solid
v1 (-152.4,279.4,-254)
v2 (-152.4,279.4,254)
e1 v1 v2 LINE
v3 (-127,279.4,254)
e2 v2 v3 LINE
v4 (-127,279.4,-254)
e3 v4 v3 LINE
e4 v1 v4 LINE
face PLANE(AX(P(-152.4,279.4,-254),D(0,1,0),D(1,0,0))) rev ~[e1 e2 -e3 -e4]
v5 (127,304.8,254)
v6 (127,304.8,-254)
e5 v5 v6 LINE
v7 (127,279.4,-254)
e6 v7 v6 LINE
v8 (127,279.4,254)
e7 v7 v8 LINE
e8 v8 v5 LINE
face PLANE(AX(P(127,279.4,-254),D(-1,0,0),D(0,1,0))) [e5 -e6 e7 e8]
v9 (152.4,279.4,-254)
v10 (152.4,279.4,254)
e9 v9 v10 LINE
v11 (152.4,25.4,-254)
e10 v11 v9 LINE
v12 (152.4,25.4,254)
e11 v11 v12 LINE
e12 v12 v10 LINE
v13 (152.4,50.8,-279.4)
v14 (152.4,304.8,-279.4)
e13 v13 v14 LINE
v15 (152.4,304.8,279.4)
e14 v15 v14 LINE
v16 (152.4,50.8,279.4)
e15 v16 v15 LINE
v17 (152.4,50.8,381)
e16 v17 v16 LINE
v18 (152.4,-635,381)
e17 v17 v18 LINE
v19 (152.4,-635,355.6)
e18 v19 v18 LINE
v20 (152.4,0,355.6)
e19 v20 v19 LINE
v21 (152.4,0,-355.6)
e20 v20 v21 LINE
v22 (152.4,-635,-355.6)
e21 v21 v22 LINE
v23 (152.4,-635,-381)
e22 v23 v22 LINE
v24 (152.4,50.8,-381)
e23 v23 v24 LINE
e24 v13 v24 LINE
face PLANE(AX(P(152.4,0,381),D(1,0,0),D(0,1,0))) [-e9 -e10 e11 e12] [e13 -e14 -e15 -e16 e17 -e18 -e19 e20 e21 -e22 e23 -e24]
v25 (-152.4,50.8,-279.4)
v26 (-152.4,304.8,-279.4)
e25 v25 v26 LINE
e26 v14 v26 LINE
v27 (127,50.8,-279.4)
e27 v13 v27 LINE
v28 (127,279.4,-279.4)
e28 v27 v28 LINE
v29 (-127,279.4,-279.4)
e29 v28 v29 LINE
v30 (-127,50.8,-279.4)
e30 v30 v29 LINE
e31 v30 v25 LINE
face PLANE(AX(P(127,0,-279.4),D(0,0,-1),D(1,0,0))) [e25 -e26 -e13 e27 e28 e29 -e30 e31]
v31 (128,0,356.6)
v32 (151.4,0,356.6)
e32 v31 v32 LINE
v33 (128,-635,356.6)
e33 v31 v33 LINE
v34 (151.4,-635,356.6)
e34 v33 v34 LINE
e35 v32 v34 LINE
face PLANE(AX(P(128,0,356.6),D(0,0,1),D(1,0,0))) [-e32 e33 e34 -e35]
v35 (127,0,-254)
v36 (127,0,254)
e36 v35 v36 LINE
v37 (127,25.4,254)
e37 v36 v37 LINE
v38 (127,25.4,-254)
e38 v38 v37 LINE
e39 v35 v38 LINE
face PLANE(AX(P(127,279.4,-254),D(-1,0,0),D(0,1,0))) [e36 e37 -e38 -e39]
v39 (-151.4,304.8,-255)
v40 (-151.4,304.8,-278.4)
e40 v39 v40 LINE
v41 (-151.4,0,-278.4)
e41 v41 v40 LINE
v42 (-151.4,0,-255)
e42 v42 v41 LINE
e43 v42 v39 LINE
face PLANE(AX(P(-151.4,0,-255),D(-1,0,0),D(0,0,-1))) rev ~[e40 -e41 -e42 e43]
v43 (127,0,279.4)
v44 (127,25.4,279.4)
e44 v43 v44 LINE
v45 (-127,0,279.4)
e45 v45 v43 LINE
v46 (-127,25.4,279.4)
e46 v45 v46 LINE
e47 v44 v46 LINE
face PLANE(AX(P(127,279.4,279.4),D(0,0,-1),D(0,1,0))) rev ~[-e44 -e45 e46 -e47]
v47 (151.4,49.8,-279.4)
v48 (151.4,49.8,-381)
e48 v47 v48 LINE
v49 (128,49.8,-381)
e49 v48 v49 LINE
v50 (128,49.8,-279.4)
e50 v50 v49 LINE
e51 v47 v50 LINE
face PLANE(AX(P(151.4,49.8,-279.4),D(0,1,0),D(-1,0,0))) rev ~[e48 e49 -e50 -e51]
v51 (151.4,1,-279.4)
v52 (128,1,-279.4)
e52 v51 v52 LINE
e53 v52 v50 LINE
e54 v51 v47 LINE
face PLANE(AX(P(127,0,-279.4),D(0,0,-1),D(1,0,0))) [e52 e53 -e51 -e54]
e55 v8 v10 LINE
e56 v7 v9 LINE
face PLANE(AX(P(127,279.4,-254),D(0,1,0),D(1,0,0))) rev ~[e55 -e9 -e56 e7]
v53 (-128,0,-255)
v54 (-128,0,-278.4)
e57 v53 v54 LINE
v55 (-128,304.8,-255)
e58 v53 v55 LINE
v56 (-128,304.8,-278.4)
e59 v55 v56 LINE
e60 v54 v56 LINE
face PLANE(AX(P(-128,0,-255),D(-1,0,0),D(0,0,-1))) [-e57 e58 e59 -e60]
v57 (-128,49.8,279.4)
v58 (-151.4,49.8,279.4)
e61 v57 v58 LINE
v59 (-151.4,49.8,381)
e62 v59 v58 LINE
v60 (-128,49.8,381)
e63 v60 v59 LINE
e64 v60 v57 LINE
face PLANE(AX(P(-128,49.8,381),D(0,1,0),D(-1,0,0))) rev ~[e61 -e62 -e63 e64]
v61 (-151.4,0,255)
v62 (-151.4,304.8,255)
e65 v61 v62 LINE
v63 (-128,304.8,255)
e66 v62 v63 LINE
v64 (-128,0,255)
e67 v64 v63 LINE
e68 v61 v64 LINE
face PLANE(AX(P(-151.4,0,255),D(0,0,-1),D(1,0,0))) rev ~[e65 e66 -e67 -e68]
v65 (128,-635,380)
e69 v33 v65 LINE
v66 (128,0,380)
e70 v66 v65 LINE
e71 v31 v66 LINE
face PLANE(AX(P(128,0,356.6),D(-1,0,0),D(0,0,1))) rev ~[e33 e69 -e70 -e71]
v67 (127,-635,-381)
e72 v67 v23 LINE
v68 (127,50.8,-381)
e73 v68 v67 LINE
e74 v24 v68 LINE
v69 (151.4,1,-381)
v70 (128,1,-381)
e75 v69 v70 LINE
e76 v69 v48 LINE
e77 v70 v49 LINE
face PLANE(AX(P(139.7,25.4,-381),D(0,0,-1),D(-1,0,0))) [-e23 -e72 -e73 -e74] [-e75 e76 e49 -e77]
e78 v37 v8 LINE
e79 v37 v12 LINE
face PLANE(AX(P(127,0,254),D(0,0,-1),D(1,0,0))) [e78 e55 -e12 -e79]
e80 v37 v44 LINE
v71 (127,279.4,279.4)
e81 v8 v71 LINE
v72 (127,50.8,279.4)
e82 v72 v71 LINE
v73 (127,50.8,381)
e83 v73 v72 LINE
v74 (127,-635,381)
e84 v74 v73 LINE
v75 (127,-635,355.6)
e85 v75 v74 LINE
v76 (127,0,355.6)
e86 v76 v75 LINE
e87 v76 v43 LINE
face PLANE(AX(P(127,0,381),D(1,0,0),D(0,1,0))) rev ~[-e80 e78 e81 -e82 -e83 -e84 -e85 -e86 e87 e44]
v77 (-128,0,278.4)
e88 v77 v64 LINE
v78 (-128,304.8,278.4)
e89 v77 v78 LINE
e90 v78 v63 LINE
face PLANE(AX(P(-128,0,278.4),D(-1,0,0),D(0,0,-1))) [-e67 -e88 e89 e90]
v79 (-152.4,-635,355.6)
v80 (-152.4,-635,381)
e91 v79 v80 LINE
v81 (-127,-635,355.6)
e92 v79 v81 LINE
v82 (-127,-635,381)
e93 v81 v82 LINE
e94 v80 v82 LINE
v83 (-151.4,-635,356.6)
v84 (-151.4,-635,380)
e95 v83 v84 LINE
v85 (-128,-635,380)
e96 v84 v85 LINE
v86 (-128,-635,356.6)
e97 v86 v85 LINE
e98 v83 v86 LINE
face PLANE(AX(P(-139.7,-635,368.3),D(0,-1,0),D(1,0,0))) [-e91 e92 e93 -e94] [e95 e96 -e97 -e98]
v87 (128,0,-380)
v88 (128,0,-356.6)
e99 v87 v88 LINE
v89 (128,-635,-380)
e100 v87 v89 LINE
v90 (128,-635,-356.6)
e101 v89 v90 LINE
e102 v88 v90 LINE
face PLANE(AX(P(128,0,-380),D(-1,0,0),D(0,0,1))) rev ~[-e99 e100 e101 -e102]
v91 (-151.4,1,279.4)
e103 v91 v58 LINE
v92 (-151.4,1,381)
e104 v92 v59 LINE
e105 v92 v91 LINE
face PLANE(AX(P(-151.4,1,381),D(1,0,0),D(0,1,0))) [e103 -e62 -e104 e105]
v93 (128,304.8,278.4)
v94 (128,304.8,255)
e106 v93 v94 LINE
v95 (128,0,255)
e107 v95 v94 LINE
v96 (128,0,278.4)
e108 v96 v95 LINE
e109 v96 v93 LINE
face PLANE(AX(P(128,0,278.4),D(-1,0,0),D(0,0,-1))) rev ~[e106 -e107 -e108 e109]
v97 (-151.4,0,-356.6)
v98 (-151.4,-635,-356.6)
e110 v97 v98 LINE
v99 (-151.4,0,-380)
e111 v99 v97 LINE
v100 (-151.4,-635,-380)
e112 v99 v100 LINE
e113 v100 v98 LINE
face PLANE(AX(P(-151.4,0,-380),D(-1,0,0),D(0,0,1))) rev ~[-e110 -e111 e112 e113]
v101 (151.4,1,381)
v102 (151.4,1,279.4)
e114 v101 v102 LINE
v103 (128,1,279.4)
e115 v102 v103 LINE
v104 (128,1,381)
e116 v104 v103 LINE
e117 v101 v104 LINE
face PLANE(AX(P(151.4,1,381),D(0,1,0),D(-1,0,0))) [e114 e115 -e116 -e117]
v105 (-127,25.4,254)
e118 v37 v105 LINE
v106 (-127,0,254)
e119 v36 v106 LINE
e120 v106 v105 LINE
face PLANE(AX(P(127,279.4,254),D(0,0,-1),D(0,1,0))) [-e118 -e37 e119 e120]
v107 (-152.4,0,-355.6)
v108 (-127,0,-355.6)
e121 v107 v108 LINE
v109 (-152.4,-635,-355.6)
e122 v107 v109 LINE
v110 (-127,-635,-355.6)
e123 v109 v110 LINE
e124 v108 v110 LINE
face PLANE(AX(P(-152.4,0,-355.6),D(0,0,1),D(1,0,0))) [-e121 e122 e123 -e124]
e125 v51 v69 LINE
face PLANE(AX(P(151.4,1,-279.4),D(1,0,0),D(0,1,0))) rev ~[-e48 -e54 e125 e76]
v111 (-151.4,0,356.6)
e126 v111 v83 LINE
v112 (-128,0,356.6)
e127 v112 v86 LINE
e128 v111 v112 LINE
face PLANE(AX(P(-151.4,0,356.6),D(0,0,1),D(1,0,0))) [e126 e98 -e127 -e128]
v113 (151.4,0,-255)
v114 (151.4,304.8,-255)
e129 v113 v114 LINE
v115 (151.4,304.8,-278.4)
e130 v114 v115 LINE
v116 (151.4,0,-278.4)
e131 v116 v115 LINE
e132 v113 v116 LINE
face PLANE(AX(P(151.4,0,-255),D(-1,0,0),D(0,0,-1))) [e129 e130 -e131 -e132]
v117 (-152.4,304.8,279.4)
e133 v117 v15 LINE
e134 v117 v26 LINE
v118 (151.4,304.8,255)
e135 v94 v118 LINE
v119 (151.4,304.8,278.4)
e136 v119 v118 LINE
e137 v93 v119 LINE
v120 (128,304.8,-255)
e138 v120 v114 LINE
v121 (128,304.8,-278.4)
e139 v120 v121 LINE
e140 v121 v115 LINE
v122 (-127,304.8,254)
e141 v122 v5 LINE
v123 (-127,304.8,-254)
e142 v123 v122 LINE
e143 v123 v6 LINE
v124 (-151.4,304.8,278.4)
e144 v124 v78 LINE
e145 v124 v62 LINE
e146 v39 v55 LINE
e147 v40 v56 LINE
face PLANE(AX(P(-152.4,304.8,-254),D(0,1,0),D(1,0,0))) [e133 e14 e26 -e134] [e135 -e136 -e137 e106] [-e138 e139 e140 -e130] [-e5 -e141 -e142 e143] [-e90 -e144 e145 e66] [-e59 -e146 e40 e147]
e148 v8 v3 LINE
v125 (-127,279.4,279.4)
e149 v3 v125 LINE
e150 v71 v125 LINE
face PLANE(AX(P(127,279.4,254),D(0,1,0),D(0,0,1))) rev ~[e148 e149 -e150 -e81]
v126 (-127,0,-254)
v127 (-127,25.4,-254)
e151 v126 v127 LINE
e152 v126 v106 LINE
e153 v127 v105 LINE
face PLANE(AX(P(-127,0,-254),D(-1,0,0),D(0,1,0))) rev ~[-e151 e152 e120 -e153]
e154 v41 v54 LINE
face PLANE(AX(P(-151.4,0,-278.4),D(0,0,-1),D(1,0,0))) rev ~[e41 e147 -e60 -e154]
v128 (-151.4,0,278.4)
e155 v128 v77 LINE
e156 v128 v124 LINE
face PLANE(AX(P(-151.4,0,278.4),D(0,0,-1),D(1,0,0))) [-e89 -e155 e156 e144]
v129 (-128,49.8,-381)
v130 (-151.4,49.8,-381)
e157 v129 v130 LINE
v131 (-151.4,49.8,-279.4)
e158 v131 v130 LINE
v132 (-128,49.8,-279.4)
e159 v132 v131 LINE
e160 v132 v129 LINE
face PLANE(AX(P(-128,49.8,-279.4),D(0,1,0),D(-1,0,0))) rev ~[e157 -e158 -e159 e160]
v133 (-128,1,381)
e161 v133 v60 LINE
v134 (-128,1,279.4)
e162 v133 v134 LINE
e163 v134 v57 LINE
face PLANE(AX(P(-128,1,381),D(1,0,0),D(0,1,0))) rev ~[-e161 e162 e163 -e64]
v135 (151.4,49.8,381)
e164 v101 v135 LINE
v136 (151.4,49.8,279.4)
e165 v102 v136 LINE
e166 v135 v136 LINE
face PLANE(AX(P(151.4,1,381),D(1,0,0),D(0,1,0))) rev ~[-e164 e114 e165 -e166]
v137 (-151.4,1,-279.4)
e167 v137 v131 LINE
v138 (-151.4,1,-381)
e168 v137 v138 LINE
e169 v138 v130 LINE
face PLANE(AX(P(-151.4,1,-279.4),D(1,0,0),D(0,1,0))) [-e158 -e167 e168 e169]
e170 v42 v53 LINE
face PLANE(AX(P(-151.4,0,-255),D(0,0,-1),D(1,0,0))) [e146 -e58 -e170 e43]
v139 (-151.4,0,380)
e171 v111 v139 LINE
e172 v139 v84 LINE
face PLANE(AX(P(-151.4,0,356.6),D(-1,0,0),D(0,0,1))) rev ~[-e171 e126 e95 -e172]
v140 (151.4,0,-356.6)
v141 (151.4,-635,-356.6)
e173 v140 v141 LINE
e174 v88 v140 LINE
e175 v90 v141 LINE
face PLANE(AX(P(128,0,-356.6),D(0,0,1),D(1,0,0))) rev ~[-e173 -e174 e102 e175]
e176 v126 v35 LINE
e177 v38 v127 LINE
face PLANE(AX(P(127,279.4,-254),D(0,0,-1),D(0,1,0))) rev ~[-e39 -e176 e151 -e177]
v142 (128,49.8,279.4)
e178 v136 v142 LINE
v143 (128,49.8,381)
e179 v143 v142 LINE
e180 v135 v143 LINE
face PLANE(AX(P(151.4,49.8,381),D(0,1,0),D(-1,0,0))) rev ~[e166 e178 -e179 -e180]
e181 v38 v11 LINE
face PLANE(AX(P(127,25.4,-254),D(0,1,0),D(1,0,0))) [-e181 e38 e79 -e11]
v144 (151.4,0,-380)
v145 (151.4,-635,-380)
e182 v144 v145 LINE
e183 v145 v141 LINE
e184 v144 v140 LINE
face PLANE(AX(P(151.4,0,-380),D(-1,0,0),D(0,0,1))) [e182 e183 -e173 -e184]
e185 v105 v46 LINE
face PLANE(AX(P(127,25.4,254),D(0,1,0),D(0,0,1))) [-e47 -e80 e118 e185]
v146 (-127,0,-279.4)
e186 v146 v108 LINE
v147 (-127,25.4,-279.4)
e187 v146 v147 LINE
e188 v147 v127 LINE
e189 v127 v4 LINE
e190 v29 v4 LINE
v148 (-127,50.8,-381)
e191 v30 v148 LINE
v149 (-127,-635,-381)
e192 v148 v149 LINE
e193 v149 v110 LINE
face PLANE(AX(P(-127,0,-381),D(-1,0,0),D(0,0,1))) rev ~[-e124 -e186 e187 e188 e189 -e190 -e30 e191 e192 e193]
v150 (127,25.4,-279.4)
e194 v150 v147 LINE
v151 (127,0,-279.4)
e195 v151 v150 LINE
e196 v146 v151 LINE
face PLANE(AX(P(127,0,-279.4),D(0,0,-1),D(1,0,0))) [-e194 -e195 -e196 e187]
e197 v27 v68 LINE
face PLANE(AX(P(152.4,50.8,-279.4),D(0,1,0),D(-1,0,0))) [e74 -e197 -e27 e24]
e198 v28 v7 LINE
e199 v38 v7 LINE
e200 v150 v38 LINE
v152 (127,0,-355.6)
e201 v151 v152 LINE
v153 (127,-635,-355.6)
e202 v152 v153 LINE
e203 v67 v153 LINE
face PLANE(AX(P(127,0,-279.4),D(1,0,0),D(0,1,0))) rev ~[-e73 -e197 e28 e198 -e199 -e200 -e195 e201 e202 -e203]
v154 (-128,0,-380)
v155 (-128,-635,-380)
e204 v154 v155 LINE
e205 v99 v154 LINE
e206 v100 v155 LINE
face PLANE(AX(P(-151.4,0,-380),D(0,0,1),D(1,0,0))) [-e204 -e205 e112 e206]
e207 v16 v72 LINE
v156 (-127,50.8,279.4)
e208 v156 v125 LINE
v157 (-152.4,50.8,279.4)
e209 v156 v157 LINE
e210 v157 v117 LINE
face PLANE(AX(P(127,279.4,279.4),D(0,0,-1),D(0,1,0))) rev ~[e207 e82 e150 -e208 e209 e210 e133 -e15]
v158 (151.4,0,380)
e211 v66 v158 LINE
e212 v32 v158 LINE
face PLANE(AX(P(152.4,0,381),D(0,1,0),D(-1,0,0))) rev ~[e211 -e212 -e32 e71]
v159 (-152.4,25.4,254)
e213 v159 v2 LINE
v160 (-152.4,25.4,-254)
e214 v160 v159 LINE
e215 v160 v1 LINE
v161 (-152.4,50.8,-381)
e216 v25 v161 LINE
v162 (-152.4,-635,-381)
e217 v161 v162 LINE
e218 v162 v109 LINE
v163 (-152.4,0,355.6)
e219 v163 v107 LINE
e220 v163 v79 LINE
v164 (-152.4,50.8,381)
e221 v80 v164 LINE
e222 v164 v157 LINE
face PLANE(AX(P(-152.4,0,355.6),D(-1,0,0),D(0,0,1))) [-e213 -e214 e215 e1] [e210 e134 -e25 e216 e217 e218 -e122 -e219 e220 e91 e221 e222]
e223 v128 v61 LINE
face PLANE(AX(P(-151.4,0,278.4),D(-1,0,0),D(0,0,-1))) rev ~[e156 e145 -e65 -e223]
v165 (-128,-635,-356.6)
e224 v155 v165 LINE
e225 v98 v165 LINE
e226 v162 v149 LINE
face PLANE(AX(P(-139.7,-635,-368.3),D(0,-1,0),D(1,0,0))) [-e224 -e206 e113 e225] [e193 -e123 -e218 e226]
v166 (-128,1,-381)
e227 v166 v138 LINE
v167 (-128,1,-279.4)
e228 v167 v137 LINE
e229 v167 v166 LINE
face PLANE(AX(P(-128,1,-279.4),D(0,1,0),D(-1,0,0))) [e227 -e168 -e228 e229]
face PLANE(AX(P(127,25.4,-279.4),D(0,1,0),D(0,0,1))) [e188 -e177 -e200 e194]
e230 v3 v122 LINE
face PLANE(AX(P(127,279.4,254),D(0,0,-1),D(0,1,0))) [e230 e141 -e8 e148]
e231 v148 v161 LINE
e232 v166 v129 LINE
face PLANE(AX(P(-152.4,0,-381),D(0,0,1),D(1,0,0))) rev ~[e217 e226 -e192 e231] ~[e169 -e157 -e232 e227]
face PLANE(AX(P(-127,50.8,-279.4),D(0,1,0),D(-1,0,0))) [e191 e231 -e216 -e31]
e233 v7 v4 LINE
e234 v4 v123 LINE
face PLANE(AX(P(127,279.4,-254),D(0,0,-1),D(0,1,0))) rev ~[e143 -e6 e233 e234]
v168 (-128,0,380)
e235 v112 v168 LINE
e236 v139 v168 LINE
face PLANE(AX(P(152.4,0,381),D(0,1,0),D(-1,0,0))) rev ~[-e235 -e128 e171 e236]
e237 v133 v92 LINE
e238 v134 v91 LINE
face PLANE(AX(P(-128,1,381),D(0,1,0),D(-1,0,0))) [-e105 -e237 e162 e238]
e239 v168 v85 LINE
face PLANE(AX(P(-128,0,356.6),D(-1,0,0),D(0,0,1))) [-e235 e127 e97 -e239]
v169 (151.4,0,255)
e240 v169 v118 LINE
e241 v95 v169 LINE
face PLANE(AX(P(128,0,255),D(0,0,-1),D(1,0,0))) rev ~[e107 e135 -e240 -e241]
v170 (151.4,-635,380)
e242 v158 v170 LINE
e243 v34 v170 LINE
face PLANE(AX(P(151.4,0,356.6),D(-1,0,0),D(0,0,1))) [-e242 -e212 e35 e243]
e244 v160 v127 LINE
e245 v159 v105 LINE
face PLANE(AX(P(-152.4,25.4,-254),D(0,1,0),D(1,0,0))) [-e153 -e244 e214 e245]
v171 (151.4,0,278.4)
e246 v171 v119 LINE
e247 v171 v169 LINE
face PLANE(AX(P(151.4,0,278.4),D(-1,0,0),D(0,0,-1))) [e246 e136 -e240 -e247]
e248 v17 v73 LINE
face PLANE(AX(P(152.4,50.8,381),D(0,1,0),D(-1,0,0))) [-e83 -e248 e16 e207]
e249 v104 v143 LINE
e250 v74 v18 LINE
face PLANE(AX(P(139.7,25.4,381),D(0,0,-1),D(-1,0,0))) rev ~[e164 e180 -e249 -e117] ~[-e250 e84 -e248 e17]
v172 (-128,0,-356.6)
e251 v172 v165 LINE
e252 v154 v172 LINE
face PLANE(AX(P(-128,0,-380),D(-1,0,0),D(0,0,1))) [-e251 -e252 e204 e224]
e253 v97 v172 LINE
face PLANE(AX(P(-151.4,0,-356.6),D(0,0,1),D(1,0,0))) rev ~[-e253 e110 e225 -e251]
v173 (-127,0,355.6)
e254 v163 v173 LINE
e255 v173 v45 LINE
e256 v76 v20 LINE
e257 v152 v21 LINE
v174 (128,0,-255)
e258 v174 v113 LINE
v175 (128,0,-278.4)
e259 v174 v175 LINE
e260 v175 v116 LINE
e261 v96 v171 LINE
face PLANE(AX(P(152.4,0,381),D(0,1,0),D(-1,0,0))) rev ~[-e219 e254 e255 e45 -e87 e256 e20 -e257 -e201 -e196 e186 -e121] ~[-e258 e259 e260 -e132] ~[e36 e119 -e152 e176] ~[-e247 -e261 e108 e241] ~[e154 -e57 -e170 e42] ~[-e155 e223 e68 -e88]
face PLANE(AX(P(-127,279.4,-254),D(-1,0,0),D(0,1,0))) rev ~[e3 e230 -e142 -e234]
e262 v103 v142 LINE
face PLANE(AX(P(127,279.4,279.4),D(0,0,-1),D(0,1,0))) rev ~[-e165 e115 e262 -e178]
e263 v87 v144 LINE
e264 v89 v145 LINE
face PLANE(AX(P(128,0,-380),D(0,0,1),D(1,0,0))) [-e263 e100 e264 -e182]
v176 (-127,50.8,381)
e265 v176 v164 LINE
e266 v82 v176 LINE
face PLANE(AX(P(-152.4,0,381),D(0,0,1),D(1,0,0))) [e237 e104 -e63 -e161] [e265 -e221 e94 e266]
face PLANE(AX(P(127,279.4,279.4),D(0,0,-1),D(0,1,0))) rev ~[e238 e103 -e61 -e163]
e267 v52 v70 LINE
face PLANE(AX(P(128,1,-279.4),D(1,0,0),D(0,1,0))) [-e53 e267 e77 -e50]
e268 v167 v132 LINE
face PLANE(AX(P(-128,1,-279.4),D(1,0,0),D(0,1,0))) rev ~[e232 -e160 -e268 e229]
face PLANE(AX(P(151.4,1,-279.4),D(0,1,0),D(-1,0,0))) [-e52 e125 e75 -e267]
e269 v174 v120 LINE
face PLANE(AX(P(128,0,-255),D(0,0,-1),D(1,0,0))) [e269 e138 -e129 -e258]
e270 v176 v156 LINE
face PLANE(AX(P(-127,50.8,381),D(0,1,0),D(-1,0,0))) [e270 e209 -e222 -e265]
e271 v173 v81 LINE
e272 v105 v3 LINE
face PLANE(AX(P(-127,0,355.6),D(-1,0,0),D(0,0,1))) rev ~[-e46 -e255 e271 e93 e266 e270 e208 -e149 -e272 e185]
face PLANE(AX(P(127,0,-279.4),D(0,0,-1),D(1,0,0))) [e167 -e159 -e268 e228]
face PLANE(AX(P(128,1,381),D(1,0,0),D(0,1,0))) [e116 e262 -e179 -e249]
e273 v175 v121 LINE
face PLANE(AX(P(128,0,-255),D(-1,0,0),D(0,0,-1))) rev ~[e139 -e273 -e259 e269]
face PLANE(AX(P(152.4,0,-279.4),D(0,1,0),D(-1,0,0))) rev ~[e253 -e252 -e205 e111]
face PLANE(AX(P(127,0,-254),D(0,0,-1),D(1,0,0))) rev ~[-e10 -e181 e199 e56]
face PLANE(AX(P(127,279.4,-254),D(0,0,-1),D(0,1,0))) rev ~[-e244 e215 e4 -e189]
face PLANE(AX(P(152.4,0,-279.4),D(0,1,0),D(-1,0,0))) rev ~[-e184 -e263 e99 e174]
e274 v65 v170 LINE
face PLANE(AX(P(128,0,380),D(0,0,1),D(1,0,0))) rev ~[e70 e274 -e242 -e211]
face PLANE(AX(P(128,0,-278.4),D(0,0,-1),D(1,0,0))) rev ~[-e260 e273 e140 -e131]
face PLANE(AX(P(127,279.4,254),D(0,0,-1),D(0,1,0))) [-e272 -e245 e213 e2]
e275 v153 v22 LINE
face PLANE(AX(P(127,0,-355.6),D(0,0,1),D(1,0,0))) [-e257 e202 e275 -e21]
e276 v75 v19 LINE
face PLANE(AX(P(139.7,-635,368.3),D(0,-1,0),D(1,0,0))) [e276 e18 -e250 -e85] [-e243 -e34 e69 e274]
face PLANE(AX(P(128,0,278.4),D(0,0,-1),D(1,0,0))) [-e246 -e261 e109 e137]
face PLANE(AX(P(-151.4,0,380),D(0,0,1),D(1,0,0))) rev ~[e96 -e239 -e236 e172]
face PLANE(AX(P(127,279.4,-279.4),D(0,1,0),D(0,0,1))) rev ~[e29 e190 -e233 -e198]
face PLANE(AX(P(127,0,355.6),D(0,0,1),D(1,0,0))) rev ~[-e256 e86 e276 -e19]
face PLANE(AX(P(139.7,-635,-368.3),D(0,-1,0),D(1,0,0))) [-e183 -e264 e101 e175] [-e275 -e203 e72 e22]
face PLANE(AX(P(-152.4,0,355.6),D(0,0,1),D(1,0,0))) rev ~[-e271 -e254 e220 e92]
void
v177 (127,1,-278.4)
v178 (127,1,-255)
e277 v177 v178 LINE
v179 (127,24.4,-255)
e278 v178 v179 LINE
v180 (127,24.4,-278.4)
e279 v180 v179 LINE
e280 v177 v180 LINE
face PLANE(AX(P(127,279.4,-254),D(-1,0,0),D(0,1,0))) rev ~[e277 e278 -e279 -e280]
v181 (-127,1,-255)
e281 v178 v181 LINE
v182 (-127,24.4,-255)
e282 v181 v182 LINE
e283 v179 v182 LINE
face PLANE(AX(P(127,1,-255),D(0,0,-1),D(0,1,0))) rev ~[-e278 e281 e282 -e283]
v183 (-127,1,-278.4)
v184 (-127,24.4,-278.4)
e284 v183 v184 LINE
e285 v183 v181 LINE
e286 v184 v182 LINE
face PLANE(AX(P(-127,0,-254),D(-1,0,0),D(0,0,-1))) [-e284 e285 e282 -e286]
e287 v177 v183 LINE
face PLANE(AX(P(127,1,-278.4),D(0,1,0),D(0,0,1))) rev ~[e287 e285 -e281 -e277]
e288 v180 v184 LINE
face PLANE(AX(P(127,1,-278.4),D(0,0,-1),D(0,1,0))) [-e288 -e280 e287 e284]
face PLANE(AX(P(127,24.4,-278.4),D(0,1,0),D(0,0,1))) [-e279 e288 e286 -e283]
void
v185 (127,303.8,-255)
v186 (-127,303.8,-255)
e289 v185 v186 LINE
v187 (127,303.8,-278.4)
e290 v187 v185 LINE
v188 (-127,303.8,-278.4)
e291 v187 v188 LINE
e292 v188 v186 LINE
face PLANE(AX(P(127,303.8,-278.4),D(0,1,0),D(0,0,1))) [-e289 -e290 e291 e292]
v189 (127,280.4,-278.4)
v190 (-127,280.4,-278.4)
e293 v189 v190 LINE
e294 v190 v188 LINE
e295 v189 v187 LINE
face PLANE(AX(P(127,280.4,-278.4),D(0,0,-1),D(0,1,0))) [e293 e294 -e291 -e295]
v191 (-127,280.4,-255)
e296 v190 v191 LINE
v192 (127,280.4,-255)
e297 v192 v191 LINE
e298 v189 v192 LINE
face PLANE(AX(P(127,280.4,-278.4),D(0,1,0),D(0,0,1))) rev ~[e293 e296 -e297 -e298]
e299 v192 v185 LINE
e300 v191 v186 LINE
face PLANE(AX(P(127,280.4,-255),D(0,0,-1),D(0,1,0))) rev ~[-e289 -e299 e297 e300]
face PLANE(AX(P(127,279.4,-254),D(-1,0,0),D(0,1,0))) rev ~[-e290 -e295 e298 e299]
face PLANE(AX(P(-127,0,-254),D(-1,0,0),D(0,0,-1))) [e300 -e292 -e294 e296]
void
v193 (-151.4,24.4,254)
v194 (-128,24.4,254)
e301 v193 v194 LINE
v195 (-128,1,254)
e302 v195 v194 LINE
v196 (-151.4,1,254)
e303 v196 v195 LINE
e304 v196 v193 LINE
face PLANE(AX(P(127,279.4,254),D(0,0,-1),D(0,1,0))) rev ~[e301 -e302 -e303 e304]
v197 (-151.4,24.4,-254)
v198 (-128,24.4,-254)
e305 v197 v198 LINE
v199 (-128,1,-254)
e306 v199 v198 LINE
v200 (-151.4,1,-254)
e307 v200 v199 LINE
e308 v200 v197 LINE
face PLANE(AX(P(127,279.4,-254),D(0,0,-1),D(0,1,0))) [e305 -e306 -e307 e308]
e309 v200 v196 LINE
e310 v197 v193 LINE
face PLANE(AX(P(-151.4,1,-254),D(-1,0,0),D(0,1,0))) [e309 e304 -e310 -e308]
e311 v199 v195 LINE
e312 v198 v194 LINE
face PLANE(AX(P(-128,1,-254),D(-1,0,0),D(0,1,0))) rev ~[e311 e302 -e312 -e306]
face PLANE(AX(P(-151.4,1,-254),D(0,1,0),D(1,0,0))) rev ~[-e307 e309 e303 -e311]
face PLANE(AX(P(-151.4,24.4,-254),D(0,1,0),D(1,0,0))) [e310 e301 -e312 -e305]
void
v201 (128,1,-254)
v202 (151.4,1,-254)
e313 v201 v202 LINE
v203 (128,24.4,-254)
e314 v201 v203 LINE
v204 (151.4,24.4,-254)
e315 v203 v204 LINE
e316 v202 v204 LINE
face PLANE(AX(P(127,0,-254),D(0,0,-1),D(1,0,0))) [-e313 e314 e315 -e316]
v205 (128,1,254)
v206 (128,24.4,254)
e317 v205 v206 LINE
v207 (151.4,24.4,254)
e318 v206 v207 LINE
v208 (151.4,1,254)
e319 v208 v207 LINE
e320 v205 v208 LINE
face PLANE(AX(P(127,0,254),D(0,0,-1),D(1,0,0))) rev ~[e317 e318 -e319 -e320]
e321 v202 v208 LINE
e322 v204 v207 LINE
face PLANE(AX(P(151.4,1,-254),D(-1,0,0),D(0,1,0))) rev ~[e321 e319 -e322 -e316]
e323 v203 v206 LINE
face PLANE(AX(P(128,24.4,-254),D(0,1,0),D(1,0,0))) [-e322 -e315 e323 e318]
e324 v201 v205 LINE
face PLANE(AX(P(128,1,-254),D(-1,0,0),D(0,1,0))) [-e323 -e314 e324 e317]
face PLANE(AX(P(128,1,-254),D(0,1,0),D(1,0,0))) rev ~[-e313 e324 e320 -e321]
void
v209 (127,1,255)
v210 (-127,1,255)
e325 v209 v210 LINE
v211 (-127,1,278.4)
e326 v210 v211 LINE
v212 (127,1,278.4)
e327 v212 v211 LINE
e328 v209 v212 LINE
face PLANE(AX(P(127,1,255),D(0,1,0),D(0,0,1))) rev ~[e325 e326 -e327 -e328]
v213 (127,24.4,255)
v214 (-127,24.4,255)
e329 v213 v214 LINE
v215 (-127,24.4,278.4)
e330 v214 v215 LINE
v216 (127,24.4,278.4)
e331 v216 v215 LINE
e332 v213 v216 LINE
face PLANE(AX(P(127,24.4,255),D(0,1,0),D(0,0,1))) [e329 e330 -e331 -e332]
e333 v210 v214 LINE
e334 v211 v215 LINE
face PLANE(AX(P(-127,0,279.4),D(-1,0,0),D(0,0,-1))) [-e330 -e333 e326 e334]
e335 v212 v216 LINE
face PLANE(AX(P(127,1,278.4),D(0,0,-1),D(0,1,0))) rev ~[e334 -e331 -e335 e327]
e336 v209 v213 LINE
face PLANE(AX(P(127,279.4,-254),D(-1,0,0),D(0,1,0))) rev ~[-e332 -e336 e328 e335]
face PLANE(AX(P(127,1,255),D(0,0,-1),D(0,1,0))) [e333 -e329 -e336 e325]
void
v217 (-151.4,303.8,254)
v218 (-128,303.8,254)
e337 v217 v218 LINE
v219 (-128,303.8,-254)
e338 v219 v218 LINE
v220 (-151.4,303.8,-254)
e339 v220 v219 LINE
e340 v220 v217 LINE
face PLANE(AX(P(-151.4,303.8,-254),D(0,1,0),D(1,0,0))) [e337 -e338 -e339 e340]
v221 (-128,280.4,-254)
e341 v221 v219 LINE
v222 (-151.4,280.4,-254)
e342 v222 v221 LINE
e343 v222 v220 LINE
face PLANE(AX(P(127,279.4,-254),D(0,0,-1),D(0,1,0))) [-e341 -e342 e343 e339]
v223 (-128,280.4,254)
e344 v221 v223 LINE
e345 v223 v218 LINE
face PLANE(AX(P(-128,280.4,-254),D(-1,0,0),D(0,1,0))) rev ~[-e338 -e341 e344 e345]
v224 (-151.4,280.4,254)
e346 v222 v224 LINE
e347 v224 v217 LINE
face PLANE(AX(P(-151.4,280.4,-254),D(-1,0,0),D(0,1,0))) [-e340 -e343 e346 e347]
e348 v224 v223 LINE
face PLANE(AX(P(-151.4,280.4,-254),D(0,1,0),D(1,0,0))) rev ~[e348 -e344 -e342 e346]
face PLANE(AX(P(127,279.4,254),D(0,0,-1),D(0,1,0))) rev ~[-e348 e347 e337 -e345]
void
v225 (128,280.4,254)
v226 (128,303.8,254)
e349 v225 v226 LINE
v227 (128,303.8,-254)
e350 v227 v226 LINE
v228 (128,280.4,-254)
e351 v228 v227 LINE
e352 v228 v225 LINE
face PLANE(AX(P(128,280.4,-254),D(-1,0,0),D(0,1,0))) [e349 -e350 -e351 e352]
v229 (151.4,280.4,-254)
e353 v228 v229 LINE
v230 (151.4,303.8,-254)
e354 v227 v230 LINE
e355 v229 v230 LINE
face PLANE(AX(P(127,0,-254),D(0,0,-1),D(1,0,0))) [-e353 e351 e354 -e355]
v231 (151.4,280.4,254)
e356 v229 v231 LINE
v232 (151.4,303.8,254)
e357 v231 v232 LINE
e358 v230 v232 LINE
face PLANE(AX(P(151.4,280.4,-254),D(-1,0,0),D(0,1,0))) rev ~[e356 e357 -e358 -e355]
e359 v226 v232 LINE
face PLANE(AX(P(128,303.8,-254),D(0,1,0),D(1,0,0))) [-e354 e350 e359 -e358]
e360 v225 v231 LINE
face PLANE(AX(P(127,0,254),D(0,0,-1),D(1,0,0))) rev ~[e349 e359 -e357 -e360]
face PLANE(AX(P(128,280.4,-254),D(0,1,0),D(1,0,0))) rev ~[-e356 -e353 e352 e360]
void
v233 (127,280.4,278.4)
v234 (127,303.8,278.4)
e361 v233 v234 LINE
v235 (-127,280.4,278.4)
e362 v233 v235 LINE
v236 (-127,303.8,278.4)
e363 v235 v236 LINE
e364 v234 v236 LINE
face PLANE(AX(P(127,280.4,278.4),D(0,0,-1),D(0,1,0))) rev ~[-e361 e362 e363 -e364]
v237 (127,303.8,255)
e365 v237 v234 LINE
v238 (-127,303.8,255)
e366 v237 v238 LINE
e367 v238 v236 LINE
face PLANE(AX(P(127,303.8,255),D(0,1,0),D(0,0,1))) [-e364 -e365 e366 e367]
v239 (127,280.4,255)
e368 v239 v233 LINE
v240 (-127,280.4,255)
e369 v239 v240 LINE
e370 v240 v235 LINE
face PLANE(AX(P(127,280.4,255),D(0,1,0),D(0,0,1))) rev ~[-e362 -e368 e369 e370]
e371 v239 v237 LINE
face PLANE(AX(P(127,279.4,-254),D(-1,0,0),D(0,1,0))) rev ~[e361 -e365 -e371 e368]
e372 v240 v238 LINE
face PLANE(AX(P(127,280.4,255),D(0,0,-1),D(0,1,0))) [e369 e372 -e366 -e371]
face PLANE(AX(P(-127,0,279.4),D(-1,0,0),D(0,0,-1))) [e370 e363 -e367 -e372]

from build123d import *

# Parameters (mm, degrees)
SKETCH1_W             = 25.4
SKETCH1_H             = 25.4
SKETCH1_W_2           = 23.4
SKETCH1_H_2           = 23.4
BOSS_EXTRUDE1_DEPTH   = 304.8
BOSS_EXTRUDE1_2_DEPTH = 304.8
BOSS_EXTRUDE1_3_DEPTH = 304.8
BOSS_EXTRUDE1_4_DEPTH = 304.8
SKETCH2_W             = 25.4
SKETCH2_H             = 25.4
SKETCH2_W_2           = 23.4
SKETCH2_H_2           = 23.4
BOSS_EXTRUDE2_DEPTH   = 508
SKETCH3_W             = 25.4
SKETCH3_H             = 25.4
SKETCH3_W_2           = 23.4
SKETCH3_H_2           = 23.4
BOSS_EXTRUDE4_DEPTH   = 254
LPATTERN2_COUNT       = 2
LPATTERN2_PITCH       = 279.4
SKETCH4_W             = 25.4
SKETCH4_H             = 50.8
SKETCH4_W_2           = 23.4
SKETCH4_H_2           = 48.8
BOSS_EXTRUDE5_DEPTH   = 101.6
SKETCH5_W             = 25.4
SKETCH5_H             = 25.4
SKETCH5_W_2           = 23.4
SKETCH5_H_2           = 23.4
BOSS_EXTRUDE6_DEPTH   = 635
LPATTERN3_COUNT       = 2
LPATTERN3_PITCH       = 660.4
LPATTERN4_COUNT       = 2
LPATTERN4_PITCH       = 736.6


with BuildPart() as part:
    # Sketch1 → Boss-Extrude1 (new body)
    with BuildSketch(Plane(origin=(0, 0, 0), x_dir=(1, 0, 0), z_dir=(0, 1, 0))):
        with Locations((139.7, 266.7)):
            Rectangle(SKETCH1_W, SKETCH1_H)
        with Locations((139.7, 266.7)):
            Rectangle(SKETCH1_W_2, SKETCH1_H_2, mode=Mode.SUBTRACT)
    extrude(amount=BOSS_EXTRUDE1_DEPTH)



with BuildPart() as body_2:
    # Sketch1 → Boss-Extrude1 2 (new body)
    with BuildSketch(Plane(origin=(0, 0, 0), x_dir=(1, 0, 0), z_dir=(0, 1, 0))):
        with Locations((139.7, -266.7)):
            Rectangle(SKETCH1_W, SKETCH1_H)
        with Locations((139.7, -266.7)):
            Rectangle(SKETCH1_W_2, SKETCH1_H_2, mode=Mode.SUBTRACT)
    extrude(amount=BOSS_EXTRUDE1_2_DEPTH)


with BuildPart() as body_3:
    # Sketch1 → Boss-Extrude1 3 (new body)
    with BuildSketch(Plane(origin=(0, 0, 0), x_dir=(1, 0, 0), z_dir=(0, 1, 0))):
        with Locations((-139.7, -266.7)):
            Rectangle(SKETCH1_W, SKETCH1_H)
        with Locations((-139.7, -266.7)):
            Rectangle(SKETCH1_W_2, SKETCH1_H_2, mode=Mode.SUBTRACT)
    extrude(amount=BOSS_EXTRUDE1_3_DEPTH)


with BuildPart() as body_4:
    # Sketch1 → Boss-Extrude1 4 (new body)
    with BuildSketch(Plane(origin=(0, 0, 0), x_dir=(1, 0, 0), z_dir=(0, 1, 0))):
        with Locations((-139.7, 266.7)):
            Rectangle(SKETCH1_W, SKETCH1_H)
        with Locations((-139.7, 266.7)):
            Rectangle(SKETCH1_W_2, SKETCH1_H_2, mode=Mode.SUBTRACT)
    extrude(amount=BOSS_EXTRUDE1_4_DEPTH)


with BuildPart() as part_1:
    add(part.part)

    add(body_2.part)  # Boss-Extrude2 merges body 2
    # Sketch2 → Boss-Extrude2 (add)
    # profile 1 of 2: a face of its own
    with BuildSketch(Plane.XY.offset(-254)):
        with Locations((139.7, 292.1)):
            Rectangle(SKETCH2_W, SKETCH2_H)
        with Locations((139.7, 292.1)):
            Rectangle(SKETCH2_W_2, SKETCH2_H_2, mode=Mode.SUBTRACT)
    # profile 2 of 2: a face of its own
    with BuildSketch(Plane.XY.offset(-254)):
        with Locations((139.7, 12.7)):
            Rectangle(SKETCH2_W, SKETCH2_H)
        with Locations((139.7, 12.7)):
            Rectangle(SKETCH2_W_2, SKETCH2_H_2, mode=Mode.SUBTRACT)
    boss_extrude2 = extrude(amount=BOSS_EXTRUDE2_DEPTH)


    add(body_3.part)  # Boss-Extrude4 merges body 3

    add(body_4.part)  # Boss-Extrude4 merges body 4
    # Sketch3 → Boss-Extrude4 (add)
    # profile 1 of 4: a face of its own
    with BuildSketch(Plane.ZY.offset(-127)):
        with Locations((266.7, 292.1)):
            Rectangle(SKETCH3_W, SKETCH3_H)
        with Locations((266.7, 292.1)):
            Rectangle(SKETCH3_W_2, SKETCH3_H_2, mode=Mode.SUBTRACT)
    # profile 2 of 4: a face of its own
    with BuildSketch(Plane.ZY.offset(-127)):
        with Locations((-266.7, 292.1)):
            Rectangle(SKETCH3_W, SKETCH3_H)
        with Locations((-266.7, 292.1)):
            Rectangle(SKETCH3_W_2, SKETCH3_H_2, mode=Mode.SUBTRACT)
    # profile 3 of 4: a face of its own
    with BuildSketch(Plane.ZY.offset(-127)):
        with Locations((266.7, 12.7)):
            Rectangle(SKETCH3_W, SKETCH3_H)
        with Locations((266.7, 12.7)):
            Rectangle(SKETCH3_W_2, SKETCH3_H_2, mode=Mode.SUBTRACT)
    # profile 4 of 4: a face of its own
    with BuildSketch(Plane.ZY.offset(-127)):
        with Locations((-266.7, 12.7)):
            Rectangle(SKETCH3_W, SKETCH3_H)
        with Locations((-266.7, 12.7)):
            Rectangle(SKETCH3_W_2, SKETCH3_H_2, mode=Mode.SUBTRACT)
    extrude(amount=BOSS_EXTRUDE4_DEPTH)

    # LPattern2: Boss-Extrude2 ×2
    with Locations(*[(-i * LPATTERN2_PITCH, 0, 0) for i in range(1, LPATTERN2_COUNT)]):
        add(boss_extrude2)

    # Sketch4 → Boss-Extrude5 (add)
    # profile 1 of 2: a face of its own
    with BuildSketch(Plane(origin=(0, 0, -279.4), x_dir=(-1, 0, 0), z_dir=(0, 0, -1))):
        with Locations((-139.7, 25.4)):
            Rectangle(SKETCH4_W, SKETCH4_H)
        with Locations((-139.7, 25.4)):
            Rectangle(SKETCH4_W_2, SKETCH4_H_2, mode=Mode.SUBTRACT)
    # profile 2 of 2: a face of its own
    with BuildSketch(Plane(origin=(0, 0, -279.4), x_dir=(-1, 0, 0), z_dir=(0, 0, -1))):
        with Locations((139.7, 25.4)):
            Rectangle(SKETCH4_W, SKETCH4_H)
        with Locations((139.7, 25.4)):
            Rectangle(SKETCH4_W_2, SKETCH4_H_2, mode=Mode.SUBTRACT)
    boss_extrude5 = extrude(amount=BOSS_EXTRUDE5_DEPTH)

    # Sketch5 → Boss-Extrude6 (add)
    # profile 1 of 2: a face of its own
    with BuildSketch(Plane.XZ):
        with Locations((-139.7, -368.3)):
            Rectangle(SKETCH5_W, SKETCH5_H)
        with Locations((-139.7, -368.3)):
            Rectangle(SKETCH5_W_2, SKETCH5_H_2, mode=Mode.SUBTRACT)
    # profile 2 of 2: a face of its own
    with BuildSketch(Plane.XZ):
        with Locations((139.7, -368.3)):
            Rectangle(SKETCH5_W, SKETCH5_H)
        with Locations((139.7, -368.3)):
            Rectangle(SKETCH5_W_2, SKETCH5_H_2, mode=Mode.SUBTRACT)
    boss_extrude6 = extrude(amount=BOSS_EXTRUDE6_DEPTH)

    # LPattern3: Boss-Extrude5 ×2
    with Locations(*[(0, 0, i * LPATTERN3_PITCH) for i in range(1, LPATTERN3_COUNT)]):
        add(boss_extrude5)

    # LPattern4: Boss-Extrude6 ×2
    with Locations(*[(0, 0, i * LPATTERN4_PITCH) for i in range(1, LPATTERN4_COUNT)]):
        add(boss_extrude6)


solid = part_1.part
